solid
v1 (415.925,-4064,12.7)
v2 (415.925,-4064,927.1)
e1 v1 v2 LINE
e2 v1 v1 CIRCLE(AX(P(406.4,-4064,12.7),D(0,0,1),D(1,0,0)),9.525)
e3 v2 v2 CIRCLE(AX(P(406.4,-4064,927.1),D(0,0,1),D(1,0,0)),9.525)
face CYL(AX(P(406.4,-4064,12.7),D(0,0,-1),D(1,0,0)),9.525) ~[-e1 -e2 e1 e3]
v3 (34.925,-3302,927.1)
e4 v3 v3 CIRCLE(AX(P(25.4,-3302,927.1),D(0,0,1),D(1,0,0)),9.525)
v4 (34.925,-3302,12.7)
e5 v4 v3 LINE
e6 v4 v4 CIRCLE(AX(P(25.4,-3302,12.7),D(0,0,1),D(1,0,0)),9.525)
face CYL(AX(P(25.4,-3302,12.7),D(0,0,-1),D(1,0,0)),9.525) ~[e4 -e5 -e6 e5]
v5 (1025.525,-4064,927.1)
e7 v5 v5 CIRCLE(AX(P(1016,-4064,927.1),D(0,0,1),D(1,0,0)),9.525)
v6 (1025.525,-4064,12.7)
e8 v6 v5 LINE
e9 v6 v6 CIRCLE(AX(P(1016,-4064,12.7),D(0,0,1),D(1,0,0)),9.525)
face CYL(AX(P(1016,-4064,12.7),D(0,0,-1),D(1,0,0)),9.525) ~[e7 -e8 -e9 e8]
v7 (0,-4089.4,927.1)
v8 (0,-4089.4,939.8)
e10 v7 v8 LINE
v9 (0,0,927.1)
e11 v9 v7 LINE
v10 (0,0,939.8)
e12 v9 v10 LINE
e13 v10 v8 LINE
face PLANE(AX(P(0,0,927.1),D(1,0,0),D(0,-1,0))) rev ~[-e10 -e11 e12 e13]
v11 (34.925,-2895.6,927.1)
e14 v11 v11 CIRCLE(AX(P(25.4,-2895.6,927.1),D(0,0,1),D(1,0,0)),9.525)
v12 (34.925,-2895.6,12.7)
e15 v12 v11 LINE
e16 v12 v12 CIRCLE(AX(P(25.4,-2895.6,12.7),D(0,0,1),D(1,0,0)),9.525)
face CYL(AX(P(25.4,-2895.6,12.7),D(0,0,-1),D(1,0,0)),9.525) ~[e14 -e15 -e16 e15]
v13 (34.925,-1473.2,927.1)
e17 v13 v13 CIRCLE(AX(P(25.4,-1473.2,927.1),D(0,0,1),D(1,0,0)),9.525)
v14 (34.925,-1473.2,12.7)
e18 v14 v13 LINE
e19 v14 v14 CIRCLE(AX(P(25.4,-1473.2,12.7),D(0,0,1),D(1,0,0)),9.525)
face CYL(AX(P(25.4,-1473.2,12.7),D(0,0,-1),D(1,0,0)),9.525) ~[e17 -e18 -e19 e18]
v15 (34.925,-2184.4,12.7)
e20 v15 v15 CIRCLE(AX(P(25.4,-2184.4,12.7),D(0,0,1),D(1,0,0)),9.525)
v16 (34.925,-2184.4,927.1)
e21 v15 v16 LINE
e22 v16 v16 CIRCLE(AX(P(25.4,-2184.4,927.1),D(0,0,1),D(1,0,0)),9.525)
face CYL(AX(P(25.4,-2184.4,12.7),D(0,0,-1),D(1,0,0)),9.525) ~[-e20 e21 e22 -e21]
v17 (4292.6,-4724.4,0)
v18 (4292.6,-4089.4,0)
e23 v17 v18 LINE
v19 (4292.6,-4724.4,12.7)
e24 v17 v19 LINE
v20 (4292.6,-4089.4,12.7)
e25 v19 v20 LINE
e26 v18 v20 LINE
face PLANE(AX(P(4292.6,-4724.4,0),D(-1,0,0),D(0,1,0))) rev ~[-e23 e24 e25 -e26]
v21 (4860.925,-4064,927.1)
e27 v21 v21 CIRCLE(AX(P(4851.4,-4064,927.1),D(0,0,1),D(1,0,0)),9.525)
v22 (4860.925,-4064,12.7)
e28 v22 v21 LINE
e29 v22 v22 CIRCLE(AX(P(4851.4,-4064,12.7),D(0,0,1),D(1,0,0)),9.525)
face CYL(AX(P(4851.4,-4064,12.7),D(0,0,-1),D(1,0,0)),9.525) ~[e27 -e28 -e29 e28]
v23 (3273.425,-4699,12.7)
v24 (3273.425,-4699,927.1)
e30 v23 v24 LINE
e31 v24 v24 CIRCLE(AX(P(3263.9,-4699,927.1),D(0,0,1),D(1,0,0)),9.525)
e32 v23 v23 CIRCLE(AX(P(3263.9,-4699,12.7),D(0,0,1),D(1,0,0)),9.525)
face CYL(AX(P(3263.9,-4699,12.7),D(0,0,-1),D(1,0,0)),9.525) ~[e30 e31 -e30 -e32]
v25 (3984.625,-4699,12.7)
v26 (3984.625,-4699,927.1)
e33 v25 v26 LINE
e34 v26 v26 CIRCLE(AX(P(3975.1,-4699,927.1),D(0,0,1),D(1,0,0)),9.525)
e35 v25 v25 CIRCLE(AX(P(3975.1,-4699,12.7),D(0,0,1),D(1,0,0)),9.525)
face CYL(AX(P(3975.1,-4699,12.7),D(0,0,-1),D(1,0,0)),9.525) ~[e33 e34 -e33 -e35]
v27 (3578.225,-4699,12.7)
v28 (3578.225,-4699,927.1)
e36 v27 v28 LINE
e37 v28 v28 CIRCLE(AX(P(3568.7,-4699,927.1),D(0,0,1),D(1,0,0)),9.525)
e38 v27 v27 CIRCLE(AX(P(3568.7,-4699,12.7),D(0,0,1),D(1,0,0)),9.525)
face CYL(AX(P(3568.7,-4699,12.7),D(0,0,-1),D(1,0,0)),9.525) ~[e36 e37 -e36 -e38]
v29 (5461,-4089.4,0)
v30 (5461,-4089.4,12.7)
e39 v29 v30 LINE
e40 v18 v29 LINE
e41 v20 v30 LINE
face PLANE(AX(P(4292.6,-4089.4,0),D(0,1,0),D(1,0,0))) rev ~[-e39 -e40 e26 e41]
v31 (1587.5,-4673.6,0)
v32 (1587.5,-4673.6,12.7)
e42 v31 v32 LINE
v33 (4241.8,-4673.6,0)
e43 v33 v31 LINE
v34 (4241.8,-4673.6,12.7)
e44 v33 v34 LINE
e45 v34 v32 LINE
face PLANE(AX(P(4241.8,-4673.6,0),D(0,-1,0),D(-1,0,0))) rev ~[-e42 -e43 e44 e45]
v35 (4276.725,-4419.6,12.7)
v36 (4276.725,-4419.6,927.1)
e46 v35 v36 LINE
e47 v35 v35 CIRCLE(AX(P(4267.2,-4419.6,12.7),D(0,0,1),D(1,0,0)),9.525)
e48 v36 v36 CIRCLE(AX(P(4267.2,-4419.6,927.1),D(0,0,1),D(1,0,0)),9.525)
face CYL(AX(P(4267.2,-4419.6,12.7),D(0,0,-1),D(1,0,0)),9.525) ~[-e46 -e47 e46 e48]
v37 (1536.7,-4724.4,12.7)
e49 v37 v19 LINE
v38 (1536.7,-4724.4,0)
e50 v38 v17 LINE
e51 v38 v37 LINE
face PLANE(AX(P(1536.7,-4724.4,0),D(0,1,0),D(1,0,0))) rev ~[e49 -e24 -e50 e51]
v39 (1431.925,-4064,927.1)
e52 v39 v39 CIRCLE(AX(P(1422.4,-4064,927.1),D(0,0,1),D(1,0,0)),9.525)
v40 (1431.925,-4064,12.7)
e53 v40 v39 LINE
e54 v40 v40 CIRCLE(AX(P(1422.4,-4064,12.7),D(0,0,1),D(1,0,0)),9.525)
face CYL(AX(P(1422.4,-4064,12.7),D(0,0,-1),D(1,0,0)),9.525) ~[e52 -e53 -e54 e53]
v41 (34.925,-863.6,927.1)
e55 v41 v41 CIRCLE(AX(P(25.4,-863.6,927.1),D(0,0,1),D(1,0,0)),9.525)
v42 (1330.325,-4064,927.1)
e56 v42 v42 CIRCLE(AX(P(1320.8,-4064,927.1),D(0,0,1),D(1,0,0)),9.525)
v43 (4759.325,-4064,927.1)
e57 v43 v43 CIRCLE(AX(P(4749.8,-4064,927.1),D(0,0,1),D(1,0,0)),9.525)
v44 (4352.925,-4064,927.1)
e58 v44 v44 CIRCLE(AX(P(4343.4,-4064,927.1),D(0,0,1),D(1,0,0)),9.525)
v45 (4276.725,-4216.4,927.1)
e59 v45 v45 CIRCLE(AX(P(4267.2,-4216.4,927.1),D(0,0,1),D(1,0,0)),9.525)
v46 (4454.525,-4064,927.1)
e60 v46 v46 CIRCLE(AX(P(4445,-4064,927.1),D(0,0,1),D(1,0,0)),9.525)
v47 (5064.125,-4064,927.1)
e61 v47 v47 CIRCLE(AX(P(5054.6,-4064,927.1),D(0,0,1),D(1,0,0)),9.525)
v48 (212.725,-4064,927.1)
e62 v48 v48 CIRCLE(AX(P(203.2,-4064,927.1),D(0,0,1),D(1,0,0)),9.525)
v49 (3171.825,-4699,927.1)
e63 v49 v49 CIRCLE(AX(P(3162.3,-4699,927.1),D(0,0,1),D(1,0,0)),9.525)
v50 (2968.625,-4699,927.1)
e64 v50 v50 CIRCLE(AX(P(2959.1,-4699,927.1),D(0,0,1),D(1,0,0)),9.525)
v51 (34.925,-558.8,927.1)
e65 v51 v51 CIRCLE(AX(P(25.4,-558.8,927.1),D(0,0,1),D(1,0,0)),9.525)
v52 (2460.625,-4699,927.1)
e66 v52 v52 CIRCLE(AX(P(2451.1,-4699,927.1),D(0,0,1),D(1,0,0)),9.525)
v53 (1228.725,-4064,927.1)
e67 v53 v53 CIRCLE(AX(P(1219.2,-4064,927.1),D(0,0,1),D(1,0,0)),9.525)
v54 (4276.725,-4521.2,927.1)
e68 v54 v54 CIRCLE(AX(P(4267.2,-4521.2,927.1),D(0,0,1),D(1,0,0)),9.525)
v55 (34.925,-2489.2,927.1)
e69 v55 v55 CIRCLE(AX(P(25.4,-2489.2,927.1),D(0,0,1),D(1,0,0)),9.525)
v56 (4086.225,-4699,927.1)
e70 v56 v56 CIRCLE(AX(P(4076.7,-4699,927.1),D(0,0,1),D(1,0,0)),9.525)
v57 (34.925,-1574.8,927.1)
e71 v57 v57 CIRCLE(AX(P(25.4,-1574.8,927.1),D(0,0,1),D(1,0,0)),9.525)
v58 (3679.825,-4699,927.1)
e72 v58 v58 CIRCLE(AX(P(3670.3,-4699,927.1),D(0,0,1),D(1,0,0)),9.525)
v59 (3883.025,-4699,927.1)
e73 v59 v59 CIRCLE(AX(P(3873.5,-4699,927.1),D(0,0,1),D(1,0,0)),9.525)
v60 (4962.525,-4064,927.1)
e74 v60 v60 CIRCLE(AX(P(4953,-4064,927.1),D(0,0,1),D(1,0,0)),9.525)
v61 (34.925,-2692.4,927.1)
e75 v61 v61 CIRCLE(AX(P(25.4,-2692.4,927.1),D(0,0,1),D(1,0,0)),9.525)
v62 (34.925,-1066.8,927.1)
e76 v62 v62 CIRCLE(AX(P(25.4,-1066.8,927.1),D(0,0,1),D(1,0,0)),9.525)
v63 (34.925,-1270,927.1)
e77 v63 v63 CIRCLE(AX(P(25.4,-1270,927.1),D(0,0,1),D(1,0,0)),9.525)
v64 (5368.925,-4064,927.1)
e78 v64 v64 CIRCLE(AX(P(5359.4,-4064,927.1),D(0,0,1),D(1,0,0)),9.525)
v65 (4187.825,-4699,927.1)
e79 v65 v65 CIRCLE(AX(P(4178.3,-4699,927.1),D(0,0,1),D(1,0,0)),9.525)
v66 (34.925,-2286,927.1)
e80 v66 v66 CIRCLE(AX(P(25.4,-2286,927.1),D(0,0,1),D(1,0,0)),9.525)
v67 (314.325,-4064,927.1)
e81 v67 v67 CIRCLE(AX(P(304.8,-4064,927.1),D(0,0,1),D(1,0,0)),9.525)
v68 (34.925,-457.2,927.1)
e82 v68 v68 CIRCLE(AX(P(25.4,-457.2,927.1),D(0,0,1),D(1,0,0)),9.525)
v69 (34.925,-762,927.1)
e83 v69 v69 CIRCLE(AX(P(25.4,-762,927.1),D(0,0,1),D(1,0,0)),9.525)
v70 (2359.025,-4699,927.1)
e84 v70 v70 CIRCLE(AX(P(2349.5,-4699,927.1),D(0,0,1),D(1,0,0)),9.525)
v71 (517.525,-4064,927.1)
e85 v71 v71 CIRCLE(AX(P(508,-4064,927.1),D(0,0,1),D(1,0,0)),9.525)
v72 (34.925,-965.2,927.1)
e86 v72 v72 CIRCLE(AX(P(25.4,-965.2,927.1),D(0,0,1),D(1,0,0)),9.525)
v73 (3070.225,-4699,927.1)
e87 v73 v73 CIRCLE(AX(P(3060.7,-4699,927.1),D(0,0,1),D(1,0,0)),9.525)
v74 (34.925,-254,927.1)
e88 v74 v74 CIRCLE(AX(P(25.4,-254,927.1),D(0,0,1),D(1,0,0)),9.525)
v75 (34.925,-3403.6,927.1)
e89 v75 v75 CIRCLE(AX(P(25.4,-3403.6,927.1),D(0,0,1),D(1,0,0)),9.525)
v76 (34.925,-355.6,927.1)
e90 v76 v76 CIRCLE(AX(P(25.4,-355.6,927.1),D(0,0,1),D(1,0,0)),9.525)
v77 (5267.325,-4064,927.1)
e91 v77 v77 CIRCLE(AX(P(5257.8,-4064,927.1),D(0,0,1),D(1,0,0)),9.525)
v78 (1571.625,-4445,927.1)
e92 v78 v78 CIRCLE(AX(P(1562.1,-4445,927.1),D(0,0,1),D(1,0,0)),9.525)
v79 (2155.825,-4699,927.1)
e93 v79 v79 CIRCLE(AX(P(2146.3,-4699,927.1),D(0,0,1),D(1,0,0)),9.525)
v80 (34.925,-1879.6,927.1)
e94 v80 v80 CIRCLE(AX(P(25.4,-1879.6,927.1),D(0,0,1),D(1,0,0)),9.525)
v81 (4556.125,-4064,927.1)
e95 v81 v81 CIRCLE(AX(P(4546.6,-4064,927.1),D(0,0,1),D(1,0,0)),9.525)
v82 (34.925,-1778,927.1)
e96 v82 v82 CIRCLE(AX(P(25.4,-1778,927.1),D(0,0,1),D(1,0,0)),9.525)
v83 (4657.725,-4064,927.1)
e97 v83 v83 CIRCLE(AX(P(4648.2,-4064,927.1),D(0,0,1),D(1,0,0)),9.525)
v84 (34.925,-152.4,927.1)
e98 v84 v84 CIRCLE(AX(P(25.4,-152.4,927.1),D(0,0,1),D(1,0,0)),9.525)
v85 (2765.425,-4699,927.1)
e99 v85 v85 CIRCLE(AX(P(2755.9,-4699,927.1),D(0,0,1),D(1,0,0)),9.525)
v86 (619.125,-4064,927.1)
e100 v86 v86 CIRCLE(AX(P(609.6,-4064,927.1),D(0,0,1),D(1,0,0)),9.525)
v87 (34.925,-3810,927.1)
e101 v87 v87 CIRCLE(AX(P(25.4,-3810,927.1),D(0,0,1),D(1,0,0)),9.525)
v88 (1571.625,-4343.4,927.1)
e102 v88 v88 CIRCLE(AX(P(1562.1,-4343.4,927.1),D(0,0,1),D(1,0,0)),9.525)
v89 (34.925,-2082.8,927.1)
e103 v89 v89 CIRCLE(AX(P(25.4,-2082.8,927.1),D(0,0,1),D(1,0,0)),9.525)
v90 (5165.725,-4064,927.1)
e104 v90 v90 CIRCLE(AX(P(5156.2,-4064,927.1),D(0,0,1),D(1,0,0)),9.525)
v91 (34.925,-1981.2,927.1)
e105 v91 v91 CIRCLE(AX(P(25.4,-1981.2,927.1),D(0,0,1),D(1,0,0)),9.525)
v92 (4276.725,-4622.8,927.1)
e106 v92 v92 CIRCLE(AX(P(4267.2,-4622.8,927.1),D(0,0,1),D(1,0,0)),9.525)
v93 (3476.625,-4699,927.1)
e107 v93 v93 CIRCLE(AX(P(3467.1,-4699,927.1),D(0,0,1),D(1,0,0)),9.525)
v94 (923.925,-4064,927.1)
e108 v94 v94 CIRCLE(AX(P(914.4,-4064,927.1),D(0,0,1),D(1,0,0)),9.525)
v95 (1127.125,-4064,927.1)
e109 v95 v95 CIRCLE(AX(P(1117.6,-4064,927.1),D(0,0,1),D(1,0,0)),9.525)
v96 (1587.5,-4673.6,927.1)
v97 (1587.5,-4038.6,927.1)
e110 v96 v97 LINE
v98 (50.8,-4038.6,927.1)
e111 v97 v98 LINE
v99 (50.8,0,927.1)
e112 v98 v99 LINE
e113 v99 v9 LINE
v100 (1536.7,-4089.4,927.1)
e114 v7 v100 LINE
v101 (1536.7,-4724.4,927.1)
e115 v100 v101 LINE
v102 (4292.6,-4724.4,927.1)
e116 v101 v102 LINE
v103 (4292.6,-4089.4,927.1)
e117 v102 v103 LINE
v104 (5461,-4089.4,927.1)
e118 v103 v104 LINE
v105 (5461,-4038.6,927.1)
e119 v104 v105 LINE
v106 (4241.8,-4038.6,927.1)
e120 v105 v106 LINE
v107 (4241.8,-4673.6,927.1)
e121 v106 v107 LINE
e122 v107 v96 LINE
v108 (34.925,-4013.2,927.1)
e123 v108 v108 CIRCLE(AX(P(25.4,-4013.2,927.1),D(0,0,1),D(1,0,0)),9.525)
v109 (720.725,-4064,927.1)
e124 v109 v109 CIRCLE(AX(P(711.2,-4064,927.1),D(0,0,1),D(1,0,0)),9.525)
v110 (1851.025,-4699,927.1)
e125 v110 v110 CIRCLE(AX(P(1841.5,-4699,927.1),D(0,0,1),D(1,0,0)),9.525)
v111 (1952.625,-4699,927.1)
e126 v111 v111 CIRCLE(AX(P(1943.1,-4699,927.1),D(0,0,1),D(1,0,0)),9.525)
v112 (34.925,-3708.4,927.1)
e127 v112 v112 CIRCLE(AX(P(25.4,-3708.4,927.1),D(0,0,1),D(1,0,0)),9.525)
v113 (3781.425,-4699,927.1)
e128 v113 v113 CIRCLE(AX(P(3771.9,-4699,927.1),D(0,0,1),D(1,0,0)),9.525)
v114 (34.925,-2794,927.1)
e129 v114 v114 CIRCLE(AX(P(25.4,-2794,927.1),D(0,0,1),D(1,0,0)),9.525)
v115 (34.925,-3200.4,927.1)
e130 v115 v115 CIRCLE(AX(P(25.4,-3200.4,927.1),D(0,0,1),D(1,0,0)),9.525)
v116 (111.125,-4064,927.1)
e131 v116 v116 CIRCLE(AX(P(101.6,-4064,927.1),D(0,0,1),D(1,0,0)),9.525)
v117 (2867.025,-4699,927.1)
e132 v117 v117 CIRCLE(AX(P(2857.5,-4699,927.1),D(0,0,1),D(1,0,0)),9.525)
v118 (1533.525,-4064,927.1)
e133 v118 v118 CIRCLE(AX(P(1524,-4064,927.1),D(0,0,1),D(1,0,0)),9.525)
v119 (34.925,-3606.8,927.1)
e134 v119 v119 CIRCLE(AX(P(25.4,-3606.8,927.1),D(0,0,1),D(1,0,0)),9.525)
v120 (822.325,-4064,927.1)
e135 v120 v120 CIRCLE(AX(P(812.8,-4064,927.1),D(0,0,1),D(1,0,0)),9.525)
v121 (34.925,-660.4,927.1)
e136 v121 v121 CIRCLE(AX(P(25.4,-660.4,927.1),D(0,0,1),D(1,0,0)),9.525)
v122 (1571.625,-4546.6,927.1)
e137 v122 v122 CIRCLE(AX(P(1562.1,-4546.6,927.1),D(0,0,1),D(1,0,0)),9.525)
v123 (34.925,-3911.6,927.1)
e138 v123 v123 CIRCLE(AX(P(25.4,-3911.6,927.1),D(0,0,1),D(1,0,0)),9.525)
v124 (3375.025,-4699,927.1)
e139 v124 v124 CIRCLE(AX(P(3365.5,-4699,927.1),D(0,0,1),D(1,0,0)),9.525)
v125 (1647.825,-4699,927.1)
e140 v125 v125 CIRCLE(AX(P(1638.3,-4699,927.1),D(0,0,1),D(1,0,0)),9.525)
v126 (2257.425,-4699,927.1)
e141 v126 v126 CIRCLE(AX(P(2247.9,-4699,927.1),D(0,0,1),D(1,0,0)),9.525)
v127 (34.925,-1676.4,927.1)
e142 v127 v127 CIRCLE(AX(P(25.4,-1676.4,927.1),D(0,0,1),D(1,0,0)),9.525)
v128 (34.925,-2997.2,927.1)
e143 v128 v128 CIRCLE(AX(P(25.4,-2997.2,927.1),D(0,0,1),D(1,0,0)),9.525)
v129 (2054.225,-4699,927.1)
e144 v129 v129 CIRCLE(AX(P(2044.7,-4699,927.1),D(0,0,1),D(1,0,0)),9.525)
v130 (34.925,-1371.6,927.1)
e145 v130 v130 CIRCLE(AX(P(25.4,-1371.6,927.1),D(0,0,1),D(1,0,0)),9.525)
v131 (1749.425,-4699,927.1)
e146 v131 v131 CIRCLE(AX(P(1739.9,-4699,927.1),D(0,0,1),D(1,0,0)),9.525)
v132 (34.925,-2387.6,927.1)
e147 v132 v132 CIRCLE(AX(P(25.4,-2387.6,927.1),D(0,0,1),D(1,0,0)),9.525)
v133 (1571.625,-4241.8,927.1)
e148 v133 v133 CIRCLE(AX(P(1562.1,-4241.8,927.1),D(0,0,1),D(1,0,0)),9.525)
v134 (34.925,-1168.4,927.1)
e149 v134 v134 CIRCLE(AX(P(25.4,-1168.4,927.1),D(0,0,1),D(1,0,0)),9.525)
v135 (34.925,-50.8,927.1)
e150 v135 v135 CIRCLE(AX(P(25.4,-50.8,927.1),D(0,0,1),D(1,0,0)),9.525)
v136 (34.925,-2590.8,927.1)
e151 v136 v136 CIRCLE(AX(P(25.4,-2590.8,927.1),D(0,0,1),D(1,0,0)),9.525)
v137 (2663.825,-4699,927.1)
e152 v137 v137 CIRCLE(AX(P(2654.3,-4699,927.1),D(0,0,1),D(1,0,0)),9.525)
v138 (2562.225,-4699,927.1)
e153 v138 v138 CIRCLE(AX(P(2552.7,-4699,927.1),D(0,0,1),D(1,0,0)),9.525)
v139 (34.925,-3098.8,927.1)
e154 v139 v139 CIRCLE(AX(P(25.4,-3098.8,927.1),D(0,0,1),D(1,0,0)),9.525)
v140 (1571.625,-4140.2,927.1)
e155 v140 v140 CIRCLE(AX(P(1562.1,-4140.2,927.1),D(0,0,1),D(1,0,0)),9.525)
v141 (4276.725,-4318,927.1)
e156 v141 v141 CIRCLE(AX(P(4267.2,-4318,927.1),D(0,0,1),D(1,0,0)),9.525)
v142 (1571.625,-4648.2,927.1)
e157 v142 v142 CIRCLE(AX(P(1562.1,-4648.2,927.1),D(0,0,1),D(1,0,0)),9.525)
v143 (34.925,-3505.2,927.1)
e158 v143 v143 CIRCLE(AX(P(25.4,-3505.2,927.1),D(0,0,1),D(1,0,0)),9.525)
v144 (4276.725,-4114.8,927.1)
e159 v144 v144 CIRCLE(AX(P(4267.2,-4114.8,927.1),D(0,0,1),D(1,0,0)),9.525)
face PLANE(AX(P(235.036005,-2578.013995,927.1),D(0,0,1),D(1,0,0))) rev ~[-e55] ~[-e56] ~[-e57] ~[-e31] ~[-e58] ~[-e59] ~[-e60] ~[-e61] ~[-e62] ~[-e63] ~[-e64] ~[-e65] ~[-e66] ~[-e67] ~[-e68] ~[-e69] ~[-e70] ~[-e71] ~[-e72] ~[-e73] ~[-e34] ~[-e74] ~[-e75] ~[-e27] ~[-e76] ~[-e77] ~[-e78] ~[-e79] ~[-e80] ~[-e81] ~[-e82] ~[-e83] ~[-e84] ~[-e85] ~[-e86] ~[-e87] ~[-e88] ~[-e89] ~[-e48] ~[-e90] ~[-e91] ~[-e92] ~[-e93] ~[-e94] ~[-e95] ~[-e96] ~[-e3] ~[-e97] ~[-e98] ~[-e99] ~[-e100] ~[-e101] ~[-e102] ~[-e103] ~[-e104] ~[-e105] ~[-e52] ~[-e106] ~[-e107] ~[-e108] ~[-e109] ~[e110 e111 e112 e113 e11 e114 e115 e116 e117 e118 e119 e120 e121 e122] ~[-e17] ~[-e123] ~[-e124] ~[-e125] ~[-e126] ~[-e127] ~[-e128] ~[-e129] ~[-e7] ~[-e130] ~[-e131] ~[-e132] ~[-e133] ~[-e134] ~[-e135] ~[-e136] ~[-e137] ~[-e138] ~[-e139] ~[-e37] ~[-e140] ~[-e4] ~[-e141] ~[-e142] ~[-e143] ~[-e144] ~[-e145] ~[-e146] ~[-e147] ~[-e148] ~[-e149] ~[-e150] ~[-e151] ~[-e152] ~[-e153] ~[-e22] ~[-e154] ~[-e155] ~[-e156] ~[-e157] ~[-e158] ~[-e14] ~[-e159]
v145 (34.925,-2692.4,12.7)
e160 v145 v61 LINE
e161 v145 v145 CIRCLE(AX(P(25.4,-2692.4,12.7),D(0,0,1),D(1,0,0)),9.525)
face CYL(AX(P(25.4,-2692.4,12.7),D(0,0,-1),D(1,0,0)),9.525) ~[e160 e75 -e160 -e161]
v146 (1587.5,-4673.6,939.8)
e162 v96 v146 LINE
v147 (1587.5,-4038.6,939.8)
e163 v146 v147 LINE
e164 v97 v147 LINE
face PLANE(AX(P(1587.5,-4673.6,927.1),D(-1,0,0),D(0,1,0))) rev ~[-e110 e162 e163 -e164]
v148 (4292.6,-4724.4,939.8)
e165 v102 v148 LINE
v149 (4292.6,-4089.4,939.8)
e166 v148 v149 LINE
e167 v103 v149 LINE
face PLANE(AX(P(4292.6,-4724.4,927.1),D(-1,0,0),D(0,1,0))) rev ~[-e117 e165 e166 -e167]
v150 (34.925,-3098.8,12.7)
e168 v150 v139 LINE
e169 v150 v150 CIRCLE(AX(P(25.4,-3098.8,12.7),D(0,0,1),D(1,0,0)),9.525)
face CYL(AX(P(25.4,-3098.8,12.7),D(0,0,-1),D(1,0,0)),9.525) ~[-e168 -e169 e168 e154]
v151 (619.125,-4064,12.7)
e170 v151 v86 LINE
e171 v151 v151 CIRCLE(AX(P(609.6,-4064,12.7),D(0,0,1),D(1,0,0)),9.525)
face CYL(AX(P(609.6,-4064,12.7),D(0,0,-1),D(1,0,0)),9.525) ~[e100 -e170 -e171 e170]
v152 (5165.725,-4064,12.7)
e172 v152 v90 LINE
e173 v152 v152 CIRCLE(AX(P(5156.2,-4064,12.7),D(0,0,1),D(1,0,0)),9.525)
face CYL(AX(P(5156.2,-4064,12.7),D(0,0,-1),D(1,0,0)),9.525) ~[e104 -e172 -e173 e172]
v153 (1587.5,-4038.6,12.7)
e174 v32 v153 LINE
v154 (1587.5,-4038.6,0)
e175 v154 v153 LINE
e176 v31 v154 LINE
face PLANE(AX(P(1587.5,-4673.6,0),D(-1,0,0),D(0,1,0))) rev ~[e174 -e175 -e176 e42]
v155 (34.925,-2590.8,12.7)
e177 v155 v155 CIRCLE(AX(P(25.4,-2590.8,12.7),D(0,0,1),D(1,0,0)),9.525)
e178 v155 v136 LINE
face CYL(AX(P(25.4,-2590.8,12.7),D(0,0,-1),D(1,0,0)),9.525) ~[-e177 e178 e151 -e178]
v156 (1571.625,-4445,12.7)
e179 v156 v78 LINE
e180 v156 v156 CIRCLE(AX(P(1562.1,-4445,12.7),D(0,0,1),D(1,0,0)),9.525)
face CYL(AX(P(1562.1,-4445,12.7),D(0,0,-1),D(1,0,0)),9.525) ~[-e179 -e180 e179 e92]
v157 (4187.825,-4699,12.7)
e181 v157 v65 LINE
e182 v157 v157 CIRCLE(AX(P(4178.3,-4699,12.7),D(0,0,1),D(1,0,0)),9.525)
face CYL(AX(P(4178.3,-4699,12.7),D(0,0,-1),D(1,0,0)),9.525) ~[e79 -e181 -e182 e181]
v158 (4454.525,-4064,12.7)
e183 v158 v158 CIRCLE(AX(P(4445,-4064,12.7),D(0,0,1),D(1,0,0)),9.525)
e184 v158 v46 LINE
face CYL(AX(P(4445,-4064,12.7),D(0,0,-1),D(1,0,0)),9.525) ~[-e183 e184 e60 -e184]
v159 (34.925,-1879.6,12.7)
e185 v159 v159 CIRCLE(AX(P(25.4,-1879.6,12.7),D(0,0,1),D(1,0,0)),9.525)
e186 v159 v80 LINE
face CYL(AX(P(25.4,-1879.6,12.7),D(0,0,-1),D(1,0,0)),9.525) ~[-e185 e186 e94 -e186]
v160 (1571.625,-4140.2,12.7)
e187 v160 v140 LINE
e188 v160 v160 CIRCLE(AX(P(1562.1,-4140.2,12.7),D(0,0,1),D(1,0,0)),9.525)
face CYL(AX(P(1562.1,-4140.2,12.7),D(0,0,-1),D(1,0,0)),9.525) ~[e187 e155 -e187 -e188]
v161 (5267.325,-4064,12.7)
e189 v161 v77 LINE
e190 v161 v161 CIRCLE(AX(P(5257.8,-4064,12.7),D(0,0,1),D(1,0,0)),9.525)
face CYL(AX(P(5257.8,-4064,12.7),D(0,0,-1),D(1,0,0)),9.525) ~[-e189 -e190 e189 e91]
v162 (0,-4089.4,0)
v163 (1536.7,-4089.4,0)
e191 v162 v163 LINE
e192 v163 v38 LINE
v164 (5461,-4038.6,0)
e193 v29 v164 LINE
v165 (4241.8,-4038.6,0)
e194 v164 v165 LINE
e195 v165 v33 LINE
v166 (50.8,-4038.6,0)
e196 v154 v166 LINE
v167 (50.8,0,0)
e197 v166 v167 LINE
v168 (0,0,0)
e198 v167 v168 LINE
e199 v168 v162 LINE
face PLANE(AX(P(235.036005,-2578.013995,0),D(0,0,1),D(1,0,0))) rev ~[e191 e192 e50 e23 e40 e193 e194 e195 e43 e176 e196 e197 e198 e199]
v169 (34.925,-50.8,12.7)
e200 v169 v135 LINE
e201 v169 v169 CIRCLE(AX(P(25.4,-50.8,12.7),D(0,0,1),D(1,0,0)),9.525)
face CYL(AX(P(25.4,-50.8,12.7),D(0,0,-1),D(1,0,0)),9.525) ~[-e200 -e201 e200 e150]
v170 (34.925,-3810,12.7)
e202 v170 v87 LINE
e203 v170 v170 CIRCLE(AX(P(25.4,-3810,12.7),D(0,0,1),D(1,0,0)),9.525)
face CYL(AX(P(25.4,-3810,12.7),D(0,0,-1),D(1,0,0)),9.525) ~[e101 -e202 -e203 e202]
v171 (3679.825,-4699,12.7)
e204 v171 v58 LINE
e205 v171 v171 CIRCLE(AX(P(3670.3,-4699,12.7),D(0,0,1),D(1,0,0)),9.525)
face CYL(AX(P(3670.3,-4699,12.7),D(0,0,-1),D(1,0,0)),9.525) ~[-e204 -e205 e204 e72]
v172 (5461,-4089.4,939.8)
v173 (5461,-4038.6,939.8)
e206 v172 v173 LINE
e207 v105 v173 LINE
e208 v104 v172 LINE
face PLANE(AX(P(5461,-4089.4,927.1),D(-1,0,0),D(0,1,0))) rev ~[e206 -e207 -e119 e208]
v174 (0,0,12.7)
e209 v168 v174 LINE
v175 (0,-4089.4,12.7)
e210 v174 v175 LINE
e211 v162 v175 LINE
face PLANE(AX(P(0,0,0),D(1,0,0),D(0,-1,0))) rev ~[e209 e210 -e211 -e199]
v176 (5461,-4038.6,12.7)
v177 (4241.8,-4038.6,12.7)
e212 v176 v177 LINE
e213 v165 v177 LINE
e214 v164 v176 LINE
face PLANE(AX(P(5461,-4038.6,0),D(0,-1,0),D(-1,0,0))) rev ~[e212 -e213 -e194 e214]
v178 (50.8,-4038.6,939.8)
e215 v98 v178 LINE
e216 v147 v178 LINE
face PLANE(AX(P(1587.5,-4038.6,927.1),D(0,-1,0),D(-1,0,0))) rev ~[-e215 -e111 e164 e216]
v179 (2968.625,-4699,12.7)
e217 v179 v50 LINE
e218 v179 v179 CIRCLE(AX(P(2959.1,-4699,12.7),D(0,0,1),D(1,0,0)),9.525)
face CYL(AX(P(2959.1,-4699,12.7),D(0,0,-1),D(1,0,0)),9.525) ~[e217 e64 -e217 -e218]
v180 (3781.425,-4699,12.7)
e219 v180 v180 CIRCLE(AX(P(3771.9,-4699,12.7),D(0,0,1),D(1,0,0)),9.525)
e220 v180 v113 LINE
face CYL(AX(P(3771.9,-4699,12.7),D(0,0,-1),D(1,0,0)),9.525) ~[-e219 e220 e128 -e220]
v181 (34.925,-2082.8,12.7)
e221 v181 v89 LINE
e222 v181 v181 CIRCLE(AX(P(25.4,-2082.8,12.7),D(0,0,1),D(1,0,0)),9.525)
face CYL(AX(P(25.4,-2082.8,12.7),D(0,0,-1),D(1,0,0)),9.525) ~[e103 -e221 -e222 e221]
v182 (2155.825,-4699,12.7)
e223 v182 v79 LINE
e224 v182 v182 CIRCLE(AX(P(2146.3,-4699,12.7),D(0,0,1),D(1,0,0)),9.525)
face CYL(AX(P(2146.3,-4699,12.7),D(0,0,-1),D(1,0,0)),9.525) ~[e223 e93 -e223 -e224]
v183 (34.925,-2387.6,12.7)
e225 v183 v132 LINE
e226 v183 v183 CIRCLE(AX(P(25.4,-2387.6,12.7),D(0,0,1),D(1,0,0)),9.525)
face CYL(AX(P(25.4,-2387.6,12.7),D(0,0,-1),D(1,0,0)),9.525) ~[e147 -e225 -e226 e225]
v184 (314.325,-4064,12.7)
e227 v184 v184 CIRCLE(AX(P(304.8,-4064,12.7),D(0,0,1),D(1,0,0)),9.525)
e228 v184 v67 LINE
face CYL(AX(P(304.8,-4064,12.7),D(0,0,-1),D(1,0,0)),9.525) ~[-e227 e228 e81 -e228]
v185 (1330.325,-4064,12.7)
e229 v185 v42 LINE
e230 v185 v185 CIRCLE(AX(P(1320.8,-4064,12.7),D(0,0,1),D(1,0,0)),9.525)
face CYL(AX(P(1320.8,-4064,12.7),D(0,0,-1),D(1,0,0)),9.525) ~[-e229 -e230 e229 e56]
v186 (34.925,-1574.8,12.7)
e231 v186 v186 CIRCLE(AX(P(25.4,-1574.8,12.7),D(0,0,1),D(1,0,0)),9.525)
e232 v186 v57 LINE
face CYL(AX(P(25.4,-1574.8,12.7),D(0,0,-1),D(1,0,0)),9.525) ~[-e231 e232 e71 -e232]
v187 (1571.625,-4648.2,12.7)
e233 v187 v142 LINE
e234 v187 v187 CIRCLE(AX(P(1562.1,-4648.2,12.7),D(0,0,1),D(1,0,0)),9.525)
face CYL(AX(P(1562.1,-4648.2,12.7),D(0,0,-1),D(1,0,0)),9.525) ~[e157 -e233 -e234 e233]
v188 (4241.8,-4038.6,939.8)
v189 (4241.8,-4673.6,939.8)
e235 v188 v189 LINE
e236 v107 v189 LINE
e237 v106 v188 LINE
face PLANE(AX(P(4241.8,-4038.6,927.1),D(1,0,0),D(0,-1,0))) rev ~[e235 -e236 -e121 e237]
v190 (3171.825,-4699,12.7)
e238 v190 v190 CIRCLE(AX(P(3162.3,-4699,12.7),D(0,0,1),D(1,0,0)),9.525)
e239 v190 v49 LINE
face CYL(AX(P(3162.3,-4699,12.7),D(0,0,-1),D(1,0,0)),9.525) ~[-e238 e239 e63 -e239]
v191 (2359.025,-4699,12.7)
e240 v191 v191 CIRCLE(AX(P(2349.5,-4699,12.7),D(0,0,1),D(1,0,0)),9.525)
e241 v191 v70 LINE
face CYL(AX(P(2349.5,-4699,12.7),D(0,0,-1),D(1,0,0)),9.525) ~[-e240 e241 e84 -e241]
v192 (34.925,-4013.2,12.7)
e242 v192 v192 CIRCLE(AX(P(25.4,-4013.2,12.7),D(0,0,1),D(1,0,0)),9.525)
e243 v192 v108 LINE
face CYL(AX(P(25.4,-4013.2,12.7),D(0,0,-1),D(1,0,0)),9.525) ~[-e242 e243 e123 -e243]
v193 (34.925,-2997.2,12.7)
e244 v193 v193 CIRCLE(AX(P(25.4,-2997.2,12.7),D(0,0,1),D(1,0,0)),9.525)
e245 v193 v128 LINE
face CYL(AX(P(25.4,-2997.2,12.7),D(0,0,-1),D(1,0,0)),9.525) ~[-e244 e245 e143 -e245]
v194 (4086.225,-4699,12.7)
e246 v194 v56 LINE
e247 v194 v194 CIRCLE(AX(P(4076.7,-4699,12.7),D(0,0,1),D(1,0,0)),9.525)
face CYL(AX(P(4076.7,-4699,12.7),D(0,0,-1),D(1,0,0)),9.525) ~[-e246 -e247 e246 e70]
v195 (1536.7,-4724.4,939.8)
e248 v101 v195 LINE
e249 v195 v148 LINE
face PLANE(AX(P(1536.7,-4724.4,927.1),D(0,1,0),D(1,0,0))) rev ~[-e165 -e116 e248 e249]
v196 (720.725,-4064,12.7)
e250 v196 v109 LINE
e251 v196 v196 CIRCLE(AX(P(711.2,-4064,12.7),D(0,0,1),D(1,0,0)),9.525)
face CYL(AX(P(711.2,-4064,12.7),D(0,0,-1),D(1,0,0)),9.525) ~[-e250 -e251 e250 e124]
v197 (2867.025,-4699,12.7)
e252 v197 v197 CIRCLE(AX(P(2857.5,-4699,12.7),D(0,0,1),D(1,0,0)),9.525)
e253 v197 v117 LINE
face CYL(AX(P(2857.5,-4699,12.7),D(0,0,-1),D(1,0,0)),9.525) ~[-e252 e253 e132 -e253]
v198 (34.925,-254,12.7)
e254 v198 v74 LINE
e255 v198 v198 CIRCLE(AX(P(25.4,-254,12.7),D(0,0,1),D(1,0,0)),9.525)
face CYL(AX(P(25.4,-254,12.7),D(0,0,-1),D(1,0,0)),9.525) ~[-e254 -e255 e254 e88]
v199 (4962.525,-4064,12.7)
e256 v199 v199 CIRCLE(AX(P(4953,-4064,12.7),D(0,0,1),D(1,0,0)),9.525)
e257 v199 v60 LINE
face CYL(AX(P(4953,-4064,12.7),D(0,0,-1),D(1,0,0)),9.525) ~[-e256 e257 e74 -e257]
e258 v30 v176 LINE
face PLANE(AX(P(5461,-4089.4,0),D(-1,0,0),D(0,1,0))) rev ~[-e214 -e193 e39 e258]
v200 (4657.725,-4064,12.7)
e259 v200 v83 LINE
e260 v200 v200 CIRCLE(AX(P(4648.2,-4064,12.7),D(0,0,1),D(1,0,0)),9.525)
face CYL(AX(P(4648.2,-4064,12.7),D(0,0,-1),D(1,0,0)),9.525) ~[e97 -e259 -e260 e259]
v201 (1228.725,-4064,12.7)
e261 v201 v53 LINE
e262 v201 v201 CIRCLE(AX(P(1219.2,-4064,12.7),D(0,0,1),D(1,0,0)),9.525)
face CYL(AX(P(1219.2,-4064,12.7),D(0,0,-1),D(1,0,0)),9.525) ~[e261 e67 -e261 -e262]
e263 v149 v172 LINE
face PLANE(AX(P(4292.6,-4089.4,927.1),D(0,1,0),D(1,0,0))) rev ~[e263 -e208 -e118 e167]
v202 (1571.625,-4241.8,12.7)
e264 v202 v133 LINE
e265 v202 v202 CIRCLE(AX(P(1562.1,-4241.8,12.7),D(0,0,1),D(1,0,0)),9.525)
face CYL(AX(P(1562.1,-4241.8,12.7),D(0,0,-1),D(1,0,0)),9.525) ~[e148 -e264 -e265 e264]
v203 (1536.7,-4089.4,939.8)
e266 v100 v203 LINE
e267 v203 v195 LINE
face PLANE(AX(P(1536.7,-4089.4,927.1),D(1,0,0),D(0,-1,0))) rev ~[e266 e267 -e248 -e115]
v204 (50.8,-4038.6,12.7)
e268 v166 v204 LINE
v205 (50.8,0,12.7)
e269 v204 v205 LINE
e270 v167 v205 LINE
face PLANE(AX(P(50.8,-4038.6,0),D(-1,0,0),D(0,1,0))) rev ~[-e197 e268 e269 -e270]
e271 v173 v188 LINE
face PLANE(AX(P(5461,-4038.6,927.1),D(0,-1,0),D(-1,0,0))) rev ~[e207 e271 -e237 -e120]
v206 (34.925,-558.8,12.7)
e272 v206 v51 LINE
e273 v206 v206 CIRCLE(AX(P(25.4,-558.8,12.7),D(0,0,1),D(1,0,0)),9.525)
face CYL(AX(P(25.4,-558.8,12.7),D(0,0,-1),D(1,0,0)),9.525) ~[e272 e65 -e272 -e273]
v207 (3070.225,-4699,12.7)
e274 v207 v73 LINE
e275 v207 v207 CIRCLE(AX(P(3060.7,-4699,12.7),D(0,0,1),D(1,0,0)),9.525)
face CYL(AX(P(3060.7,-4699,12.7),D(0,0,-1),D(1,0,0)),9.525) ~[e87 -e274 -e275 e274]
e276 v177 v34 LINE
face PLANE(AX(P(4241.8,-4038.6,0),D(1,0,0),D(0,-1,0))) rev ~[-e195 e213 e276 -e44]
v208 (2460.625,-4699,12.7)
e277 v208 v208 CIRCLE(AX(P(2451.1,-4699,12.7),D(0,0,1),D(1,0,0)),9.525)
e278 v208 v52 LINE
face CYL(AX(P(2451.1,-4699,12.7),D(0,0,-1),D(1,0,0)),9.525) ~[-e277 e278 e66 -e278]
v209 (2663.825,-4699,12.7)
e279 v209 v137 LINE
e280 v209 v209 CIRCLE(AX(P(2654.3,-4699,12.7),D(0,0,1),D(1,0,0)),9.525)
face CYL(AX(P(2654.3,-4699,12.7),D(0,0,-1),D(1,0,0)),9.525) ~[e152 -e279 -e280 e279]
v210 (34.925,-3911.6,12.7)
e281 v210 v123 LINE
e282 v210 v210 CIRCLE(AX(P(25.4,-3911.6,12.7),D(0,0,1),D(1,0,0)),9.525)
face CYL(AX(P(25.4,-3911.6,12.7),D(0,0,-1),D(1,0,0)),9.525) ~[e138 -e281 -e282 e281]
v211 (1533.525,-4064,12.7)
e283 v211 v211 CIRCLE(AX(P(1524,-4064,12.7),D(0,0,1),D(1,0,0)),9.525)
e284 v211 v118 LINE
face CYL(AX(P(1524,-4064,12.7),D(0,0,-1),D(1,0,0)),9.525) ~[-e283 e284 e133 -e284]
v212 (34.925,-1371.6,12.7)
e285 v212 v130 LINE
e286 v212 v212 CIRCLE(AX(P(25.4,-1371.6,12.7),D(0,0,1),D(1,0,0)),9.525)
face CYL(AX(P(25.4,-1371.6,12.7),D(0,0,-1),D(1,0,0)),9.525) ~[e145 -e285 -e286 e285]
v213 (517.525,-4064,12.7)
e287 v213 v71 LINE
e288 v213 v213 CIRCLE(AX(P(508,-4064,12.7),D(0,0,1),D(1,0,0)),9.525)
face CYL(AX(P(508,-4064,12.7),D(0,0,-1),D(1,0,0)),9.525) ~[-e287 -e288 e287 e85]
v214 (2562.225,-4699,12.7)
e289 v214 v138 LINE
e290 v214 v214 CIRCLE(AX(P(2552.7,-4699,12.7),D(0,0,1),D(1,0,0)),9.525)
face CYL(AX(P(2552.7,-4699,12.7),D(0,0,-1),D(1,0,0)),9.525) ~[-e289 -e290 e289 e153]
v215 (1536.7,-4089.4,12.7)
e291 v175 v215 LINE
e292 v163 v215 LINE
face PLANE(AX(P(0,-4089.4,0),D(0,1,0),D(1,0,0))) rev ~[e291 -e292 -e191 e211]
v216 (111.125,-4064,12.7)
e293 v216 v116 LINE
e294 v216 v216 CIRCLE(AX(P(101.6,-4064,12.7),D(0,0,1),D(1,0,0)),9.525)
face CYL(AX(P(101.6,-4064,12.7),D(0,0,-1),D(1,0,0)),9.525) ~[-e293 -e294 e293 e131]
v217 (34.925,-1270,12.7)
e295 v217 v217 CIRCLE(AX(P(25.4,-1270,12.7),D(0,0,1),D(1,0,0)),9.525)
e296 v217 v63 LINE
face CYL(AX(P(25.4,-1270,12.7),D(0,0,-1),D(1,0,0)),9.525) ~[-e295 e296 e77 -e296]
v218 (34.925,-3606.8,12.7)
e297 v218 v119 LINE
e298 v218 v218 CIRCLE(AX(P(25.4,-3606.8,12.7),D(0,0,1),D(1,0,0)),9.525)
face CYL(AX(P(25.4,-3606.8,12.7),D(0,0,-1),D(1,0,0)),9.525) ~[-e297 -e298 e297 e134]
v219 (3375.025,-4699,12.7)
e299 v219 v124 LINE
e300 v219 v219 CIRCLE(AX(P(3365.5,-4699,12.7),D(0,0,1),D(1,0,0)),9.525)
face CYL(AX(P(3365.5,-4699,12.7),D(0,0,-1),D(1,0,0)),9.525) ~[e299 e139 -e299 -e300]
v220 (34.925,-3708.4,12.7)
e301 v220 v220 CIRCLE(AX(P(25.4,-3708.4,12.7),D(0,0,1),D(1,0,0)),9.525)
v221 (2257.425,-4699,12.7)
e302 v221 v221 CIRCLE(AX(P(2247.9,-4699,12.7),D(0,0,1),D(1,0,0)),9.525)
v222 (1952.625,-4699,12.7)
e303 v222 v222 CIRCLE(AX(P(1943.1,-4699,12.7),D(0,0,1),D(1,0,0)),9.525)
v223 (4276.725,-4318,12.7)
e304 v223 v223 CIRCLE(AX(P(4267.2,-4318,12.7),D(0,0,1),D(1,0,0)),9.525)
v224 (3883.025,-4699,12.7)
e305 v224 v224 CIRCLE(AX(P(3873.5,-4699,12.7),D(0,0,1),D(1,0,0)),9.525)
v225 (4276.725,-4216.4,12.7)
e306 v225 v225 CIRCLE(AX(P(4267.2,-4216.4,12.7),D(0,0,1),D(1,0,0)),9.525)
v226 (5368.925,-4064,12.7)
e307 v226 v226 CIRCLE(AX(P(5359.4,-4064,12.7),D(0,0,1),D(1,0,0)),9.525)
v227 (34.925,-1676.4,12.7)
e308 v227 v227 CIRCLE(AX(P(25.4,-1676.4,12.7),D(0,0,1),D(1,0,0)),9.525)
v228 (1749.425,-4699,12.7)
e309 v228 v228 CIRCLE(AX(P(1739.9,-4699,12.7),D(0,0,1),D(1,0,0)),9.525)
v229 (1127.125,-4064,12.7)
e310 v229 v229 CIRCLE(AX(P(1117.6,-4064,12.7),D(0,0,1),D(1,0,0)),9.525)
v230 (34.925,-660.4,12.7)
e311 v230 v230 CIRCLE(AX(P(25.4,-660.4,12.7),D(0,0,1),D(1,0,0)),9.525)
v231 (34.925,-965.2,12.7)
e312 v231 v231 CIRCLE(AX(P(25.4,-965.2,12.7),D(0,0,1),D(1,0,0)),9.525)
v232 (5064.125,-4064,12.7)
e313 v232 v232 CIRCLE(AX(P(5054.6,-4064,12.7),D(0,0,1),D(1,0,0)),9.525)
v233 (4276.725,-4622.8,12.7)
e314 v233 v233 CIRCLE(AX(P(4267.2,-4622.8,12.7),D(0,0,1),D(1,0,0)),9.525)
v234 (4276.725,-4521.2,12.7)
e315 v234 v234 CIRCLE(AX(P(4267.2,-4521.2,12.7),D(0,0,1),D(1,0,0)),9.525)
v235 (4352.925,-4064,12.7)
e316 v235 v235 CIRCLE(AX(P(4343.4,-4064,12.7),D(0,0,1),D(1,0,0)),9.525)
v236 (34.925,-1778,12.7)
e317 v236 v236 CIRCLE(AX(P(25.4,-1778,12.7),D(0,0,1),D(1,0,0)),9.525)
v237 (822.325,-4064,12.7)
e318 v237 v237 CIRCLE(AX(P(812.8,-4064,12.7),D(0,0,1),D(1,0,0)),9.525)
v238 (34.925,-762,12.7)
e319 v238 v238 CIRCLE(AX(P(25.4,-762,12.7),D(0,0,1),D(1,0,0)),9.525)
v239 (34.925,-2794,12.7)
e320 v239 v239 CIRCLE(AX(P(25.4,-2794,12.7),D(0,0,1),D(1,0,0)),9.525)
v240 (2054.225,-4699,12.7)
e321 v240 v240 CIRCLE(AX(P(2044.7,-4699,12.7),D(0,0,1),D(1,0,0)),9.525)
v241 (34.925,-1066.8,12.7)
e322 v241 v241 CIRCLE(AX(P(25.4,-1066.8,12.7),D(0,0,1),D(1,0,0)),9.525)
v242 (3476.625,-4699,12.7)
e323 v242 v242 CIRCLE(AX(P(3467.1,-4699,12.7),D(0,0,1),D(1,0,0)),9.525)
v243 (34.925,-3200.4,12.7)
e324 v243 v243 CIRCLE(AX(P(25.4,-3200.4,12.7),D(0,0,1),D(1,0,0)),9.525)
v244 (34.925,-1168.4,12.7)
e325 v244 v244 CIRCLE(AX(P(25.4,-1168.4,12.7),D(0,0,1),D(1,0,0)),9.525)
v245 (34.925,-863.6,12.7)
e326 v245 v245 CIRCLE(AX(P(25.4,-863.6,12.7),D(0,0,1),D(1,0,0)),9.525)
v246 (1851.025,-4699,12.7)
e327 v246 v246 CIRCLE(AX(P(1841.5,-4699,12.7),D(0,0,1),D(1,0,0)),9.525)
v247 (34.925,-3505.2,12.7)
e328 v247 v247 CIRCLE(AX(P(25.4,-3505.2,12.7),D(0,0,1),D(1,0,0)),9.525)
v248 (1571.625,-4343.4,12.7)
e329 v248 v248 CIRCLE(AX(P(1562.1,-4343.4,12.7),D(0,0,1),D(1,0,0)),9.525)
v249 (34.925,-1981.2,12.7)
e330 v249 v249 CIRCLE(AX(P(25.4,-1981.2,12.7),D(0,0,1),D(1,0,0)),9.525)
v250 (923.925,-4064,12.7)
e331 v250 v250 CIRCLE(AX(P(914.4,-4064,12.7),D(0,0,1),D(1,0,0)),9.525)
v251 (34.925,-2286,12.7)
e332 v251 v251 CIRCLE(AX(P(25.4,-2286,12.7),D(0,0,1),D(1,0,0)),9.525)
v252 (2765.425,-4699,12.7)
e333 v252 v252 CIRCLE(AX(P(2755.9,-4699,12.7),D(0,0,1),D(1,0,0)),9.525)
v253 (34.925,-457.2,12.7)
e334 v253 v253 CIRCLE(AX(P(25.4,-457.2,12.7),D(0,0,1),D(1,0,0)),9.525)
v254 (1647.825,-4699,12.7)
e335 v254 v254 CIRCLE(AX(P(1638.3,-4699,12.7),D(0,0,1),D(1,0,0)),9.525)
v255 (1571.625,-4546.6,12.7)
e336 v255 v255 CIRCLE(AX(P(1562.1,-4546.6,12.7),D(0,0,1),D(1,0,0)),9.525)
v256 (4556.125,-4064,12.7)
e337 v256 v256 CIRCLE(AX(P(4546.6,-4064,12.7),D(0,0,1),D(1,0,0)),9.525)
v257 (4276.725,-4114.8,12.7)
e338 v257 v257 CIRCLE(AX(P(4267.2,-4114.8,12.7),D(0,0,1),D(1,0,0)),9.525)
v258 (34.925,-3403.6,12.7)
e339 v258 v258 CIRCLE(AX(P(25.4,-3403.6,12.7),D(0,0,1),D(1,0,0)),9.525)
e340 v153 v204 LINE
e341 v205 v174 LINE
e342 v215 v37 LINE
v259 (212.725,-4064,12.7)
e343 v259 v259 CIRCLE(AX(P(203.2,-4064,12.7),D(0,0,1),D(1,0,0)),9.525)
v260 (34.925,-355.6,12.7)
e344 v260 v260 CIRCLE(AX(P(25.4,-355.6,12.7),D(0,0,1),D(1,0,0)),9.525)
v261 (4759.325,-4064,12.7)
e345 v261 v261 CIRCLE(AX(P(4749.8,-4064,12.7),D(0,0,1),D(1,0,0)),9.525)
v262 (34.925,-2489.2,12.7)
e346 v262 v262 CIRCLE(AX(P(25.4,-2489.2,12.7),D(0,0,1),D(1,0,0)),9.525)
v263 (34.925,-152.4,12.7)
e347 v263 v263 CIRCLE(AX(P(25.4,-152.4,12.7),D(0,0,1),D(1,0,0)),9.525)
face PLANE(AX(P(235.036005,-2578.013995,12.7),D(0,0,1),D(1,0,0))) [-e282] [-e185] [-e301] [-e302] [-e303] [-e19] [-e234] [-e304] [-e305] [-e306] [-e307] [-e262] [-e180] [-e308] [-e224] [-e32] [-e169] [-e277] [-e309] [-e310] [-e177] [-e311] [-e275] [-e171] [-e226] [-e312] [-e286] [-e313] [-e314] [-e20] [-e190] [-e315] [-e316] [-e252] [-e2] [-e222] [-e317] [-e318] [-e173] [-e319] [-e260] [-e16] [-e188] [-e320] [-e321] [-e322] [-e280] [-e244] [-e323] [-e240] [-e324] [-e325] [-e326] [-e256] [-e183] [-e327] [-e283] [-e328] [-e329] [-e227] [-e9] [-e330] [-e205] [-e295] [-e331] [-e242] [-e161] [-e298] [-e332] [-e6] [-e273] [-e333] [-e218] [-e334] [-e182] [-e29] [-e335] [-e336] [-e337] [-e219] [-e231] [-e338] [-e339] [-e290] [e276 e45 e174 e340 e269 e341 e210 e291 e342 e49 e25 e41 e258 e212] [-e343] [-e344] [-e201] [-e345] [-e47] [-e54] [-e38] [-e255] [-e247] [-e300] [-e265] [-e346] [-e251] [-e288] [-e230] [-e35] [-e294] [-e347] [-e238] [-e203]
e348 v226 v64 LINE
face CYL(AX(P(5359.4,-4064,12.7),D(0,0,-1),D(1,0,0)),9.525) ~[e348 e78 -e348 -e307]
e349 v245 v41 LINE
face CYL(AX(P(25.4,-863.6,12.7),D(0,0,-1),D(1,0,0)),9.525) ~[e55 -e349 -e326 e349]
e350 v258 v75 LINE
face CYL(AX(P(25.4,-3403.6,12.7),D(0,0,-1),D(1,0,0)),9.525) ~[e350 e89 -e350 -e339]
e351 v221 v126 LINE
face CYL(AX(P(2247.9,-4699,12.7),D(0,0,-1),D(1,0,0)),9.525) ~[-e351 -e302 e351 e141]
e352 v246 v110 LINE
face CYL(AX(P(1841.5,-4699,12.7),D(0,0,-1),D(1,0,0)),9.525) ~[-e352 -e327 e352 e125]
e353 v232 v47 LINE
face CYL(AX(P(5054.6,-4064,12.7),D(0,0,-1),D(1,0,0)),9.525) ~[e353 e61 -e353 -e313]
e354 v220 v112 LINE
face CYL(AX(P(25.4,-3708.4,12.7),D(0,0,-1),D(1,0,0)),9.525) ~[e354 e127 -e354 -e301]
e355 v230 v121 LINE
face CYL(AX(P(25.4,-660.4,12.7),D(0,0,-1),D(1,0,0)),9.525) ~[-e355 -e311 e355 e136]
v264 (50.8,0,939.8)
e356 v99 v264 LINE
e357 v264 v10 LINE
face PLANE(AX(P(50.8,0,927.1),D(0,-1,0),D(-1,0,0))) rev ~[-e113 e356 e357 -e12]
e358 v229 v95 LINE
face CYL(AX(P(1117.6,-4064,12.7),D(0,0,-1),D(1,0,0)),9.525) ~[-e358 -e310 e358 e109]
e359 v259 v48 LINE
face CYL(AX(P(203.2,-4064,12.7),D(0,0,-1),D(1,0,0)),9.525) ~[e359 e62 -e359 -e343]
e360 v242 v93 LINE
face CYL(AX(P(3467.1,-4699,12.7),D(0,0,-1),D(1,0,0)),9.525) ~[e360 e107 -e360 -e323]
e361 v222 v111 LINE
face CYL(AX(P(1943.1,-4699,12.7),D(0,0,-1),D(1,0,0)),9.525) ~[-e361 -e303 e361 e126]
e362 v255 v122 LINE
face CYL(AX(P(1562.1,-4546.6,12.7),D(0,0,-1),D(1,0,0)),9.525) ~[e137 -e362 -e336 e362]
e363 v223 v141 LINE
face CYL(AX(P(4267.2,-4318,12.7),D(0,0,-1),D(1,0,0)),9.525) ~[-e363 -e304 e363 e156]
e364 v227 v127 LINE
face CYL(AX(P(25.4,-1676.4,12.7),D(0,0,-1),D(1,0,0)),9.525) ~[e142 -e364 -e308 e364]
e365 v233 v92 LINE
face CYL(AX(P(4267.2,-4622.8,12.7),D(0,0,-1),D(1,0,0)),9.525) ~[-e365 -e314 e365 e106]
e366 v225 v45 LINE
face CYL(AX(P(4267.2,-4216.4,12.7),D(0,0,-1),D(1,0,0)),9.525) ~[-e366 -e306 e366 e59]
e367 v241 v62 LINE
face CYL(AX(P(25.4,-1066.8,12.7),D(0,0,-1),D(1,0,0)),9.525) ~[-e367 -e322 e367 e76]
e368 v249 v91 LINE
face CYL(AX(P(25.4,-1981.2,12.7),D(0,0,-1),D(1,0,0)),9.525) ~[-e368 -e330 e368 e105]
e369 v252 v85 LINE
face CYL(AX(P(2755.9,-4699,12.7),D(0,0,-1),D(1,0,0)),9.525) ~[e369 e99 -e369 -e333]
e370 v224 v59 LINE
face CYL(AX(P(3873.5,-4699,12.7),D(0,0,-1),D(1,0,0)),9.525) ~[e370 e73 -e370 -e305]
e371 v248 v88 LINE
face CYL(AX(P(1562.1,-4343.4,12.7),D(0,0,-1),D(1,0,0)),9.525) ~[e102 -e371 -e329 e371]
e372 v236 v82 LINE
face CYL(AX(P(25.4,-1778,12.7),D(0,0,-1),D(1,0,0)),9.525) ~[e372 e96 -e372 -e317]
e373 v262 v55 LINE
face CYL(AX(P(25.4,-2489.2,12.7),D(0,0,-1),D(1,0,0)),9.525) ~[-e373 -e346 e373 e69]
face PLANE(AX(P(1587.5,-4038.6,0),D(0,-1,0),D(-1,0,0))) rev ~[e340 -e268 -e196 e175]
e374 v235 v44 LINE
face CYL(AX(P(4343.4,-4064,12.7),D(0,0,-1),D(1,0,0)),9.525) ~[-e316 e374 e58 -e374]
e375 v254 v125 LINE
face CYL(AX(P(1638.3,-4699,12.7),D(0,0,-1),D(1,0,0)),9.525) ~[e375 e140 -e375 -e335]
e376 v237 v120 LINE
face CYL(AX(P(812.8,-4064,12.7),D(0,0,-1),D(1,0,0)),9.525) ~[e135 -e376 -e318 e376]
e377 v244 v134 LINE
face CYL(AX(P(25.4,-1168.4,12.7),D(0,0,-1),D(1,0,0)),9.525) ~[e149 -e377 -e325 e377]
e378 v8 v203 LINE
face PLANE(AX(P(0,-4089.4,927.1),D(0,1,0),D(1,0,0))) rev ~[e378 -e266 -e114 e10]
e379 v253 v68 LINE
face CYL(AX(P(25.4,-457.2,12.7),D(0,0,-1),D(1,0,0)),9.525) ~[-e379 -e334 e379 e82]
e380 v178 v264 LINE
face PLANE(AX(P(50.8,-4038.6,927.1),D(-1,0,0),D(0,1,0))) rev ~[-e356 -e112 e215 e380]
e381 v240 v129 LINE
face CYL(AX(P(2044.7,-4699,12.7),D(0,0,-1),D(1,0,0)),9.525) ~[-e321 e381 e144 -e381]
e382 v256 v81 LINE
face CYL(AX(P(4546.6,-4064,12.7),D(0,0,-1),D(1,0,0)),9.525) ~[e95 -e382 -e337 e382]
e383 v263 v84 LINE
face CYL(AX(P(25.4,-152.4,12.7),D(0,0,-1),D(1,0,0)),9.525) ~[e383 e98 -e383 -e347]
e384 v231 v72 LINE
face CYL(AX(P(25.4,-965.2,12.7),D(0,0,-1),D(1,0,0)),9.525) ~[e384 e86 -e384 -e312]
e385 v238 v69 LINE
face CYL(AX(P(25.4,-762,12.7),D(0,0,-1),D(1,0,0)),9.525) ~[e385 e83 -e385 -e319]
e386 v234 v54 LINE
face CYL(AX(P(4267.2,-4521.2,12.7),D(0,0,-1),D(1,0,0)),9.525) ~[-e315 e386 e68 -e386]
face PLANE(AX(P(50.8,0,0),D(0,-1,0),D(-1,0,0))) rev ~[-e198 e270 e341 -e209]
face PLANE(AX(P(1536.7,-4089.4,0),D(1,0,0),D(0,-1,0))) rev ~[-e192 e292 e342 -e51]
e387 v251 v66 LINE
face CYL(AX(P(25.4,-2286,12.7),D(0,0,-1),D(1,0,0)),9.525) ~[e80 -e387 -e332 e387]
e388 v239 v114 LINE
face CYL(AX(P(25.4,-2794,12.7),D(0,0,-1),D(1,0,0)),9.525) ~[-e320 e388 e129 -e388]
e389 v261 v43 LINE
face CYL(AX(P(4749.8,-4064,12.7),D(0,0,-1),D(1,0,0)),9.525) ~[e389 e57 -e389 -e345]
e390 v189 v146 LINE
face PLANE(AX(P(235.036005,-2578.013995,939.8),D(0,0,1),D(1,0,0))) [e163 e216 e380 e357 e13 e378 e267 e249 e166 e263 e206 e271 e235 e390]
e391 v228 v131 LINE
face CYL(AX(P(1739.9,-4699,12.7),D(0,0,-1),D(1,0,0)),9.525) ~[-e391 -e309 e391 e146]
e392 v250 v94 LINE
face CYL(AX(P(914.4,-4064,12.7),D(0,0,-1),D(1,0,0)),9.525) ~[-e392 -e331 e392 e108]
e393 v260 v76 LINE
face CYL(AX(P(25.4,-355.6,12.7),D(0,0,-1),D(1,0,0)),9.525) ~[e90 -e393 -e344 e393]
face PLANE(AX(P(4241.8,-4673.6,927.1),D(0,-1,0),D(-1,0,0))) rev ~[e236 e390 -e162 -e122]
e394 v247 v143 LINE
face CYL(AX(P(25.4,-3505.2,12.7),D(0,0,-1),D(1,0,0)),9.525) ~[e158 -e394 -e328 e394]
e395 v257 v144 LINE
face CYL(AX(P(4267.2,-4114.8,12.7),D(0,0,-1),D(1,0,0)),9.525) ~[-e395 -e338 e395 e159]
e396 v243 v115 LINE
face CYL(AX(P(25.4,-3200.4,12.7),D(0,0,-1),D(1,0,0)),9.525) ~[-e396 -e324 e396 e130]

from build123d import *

# Parameters (mm, degrees)
F1_DEPTH = 12.7
F2_R     = 9.525
F3_DEPTH = 914.4
F5_DEPTH = 12.7


with BuildPart() as f1:
    # F0 (on Top) → F1 (new body)
    with BuildSketch(Plane.XY):
        Polygon((50.8, 0), (0, 0), (0, -4089.4), (50.8, -4089.4), (1536.7, -4089.4), (1536.7, -4038.6), (50.8, -4038.6), align=None)
        Polygon((1587.5, -4038.6), (1536.7, -4038.6), (1536.7, -4089.4), (1536.7, -4673.6), (1587.5, -4673.6), align=None)
        Polygon((1587.5, -4673.6), (1536.7, -4673.6), (1536.7, -4724.4), (4241.8, -4724.4), (4241.8, -4673.6), align=None)
        Polygon((4241.8, -4089.4), (4241.8, -4673.6), (4241.8, -4724.4), (4292.6, -4724.4), (4292.6, -4089.4), align=None)
        Polygon((4241.8, -4038.6), (4241.8, -4089.4), (4292.6, -4089.4), (5461, -4089.4), (5461, -4038.6), align=None)
    extrude(amount=F1_DEPTH)

    # F2 (on face) → F3 (join)
    with BuildSketch(Plane.XY.offset(12.7)):
        with Locations((25.4, -50.8)):
            Circle(F2_R)
        with Locations((25.4, -152.4)):
            Circle(F2_R)
        with Locations((25.4, -254)):
            Circle(F2_R)
        with Locations((25.4, -355.6)):
            Circle(F2_R)
        with Locations((25.4, -457.2)):
            Circle(F2_R)
        with Locations((25.4, -558.8)):
            Circle(F2_R)
        with Locations((25.4, -660.4)):
            Circle(F2_R)
        with Locations((25.4, -762)):
            Circle(F2_R)
        with Locations((25.4, -863.6)):
            Circle(F2_R)
        with Locations((25.4, -965.2)):
            Circle(F2_R)
        with Locations((25.4, -1066.8)):
            Circle(F2_R)
        with Locations((25.4, -1168.4)):
            Circle(F2_R)
        with Locations((25.4, -1270)):
            Circle(F2_R)
        with Locations((25.4, -1371.6)):
            Circle(F2_R)
        with Locations((25.4, -1473.2)):
            Circle(F2_R)
        with Locations((25.4, -1574.8)):
            Circle(F2_R)
        with Locations((25.4, -1676.4)):
            Circle(F2_R)
        with Locations((25.4, -1778)):
            Circle(F2_R)
        with Locations((25.4, -1879.6)):
            Circle(F2_R)
        with Locations((25.4, -1981.2)):
            Circle(F2_R)
        with Locations((25.4, -2082.8)):
            Circle(F2_R)
        with Locations((25.4, -2184.4)):
            Circle(F2_R)
        with Locations((25.4, -2286)):
            Circle(F2_R)
        with Locations((25.4, -2387.6)):
            Circle(F2_R)
        with Locations((25.4, -2489.2)):
            Circle(F2_R)
        with Locations((25.4, -2590.8)):
            Circle(F2_R)
        with Locations((25.4, -2692.4)):
            Circle(F2_R)
        with Locations((25.4, -2794)):
            Circle(F2_R)
        with Locations((25.4, -2895.6)):
            Circle(F2_R)
        with Locations((25.4, -2997.2)):
            Circle(F2_R)
        with Locations((25.4, -3098.8)):
            Circle(F2_R)
        with Locations((25.4, -3200.4)):
            Circle(F2_R)
        with Locations((25.4, -3302)):
            Circle(F2_R)
        with Locations((25.4, -3403.6)):
            Circle(F2_R)
        with Locations((25.4, -3505.2)):
            Circle(F2_R)
        with Locations((25.4, -3606.8)):
            Circle(F2_R)
        with Locations((25.4, -3708.4)):
            Circle(F2_R)
        with Locations((25.4, -3810)):
            Circle(F2_R)
        with Locations((25.4, -3911.6)):
            Circle(F2_R)
        with Locations((25.4, -4013.2)):
            Circle(F2_R)
        with Locations((101.6, -4064)):
            Circle(F2_R)
        with Locations((203.2, -4064)):
            Circle(F2_R)
        with Locations((304.8, -4064)):
            Circle(F2_R)
        with Locations((406.4, -4064)):
            Circle(F2_R)
        with Locations((508, -4064)):
            Circle(F2_R)
        with Locations((609.6, -4064)):
            Circle(F2_R)
        with Locations((711.2, -4064)):
            Circle(F2_R)
        with Locations((812.8, -4064)):
            Circle(F2_R)
        with Locations((914.4, -4064)):
            Circle(F2_R)
        with Locations((1016, -4064)):
            Circle(F2_R)
        with Locations((1117.6, -4064)):
            Circle(F2_R)
        with Locations((1219.2, -4064)):
            Circle(F2_R)
        with Locations((1320.8, -4064)):
            Circle(F2_R)
        with Locations((1422.4, -4064)):
            Circle(F2_R)
        with Locations((1524, -4064)):
            Circle(F2_R)
        with Locations((1562.1, -4140.2)):
            Circle(F2_R)
        with Locations((1562.1, -4241.8)):
            Circle(F2_R)
        with Locations((1562.1, -4343.4)):
            Circle(F2_R)
        with Locations((1562.1, -4445)):
            Circle(F2_R)
        with Locations((1562.1, -4546.6)):
            Circle(F2_R)
        with Locations((1562.1, -4648.2)):
            Circle(F2_R)
        with Locations((1638.3, -4699)):
            Circle(F2_R)
        with Locations((1739.9, -4699)):
            Circle(F2_R)
        with Locations((1841.5, -4699)):
            Circle(F2_R)
        with Locations((1943.1, -4699)):
            Circle(F2_R)
        with Locations((2044.7, -4699)):
            Circle(F2_R)
        with Locations((2146.3, -4699)):
            Circle(F2_R)
        with Locations((2247.9, -4699)):
            Circle(F2_R)
        with Locations((2349.5, -4699)):
            Circle(F2_R)
        with Locations((2451.1, -4699)):
            Circle(F2_R)
        with Locations((2552.7, -4699)):
            Circle(F2_R)
        with Locations((2654.3, -4699)):
            Circle(F2_R)
        with Locations((2755.9, -4699)):
            Circle(F2_R)
        with Locations((2857.5, -4699)):
            Circle(F2_R)
        with Locations((2959.1, -4699)):
            Circle(F2_R)
        with Locations((3060.7, -4699)):
            Circle(F2_R)
        with Locations((3162.3, -4699)):
            Circle(F2_R)
        with Locations((3263.9, -4699)):
            Circle(F2_R)
        with Locations((3365.5, -4699)):
            Circle(F2_R)
        with Locations((3467.1, -4699)):
            Circle(F2_R)
        with Locations((3568.7, -4699)):
            Circle(F2_R)
        with Locations((3670.3, -4699)):
            Circle(F2_R)
        with Locations((3771.9, -4699)):
            Circle(F2_R)
        with Locations((3873.5, -4699)):
            Circle(F2_R)
        with Locations((3975.1, -4699)):
            Circle(F2_R)
        with Locations((4076.7, -4699)):
            Circle(F2_R)
        with Locations((4178.3, -4699)):
            Circle(F2_R)
        with Locations((4267.2, -4622.8)):
            Circle(F2_R)
        with Locations((4267.2, -4521.2)):
            Circle(F2_R)
        with Locations((4267.2, -4419.6)):
            Circle(F2_R)
        with Locations((4267.2, -4318)):
            Circle(F2_R)
        with Locations((4267.2, -4216.4)):
            Circle(F2_R)
        with Locations((4267.2, -4114.8)):
            Circle(F2_R)
        with Locations((4343.4, -4064)):
            Circle(F2_R)
        with Locations((4445, -4064)):
            Circle(F2_R)
        with Locations((4546.6, -4064)):
            Circle(F2_R)
        with Locations((4648.2, -4064)):
            Circle(F2_R)
        with Locations((4749.8, -4064)):
            Circle(F2_R)
        with Locations((4851.4, -4064)):
            Circle(F2_R)
        with Locations((4953, -4064)):
            Circle(F2_R)
        with Locations((5054.6, -4064)):
            Circle(F2_R)
        with Locations((5156.2, -4064)):
            Circle(F2_R)
        with Locations((5257.8, -4064)):
            Circle(F2_R)
        with Locations((5359.4, -4064)):
            Circle(F2_R)
    extrude(amount=F3_DEPTH)

    # F4 (on face) → F5 (join)
    with BuildSketch(Plane.XY.offset(927.1)):
        Polygon((50.8, 0), (0, 0), (0, -4089.4), (50.8, -4089.4), (1536.7, -4089.4), (1536.7, -4038.6), (50.8, -4038.6), align=None)
        Polygon((1587.5, -4038.6), (1536.7, -4038.6), (1536.7, -4089.4), (1536.7, -4673.6), (1587.5, -4673.6), align=None)
        Polygon((1587.5, -4673.6), (1536.7, -4673.6), (1536.7, -4724.4), (4241.8, -4724.4), (4241.8, -4673.6), align=None)
        Polygon((4241.8, -4089.4), (4241.8, -4673.6), (4241.8, -4724.4), (4292.6, -4724.4), (4292.6, -4089.4), align=None)
        Polygon((4241.8, -4038.6), (4241.8, -4089.4), (4292.6, -4089.4), (5461, -4089.4), (5461, -4038.6), align=None)
    extrude(amount=F5_DEPTH)


solid = f1.part
